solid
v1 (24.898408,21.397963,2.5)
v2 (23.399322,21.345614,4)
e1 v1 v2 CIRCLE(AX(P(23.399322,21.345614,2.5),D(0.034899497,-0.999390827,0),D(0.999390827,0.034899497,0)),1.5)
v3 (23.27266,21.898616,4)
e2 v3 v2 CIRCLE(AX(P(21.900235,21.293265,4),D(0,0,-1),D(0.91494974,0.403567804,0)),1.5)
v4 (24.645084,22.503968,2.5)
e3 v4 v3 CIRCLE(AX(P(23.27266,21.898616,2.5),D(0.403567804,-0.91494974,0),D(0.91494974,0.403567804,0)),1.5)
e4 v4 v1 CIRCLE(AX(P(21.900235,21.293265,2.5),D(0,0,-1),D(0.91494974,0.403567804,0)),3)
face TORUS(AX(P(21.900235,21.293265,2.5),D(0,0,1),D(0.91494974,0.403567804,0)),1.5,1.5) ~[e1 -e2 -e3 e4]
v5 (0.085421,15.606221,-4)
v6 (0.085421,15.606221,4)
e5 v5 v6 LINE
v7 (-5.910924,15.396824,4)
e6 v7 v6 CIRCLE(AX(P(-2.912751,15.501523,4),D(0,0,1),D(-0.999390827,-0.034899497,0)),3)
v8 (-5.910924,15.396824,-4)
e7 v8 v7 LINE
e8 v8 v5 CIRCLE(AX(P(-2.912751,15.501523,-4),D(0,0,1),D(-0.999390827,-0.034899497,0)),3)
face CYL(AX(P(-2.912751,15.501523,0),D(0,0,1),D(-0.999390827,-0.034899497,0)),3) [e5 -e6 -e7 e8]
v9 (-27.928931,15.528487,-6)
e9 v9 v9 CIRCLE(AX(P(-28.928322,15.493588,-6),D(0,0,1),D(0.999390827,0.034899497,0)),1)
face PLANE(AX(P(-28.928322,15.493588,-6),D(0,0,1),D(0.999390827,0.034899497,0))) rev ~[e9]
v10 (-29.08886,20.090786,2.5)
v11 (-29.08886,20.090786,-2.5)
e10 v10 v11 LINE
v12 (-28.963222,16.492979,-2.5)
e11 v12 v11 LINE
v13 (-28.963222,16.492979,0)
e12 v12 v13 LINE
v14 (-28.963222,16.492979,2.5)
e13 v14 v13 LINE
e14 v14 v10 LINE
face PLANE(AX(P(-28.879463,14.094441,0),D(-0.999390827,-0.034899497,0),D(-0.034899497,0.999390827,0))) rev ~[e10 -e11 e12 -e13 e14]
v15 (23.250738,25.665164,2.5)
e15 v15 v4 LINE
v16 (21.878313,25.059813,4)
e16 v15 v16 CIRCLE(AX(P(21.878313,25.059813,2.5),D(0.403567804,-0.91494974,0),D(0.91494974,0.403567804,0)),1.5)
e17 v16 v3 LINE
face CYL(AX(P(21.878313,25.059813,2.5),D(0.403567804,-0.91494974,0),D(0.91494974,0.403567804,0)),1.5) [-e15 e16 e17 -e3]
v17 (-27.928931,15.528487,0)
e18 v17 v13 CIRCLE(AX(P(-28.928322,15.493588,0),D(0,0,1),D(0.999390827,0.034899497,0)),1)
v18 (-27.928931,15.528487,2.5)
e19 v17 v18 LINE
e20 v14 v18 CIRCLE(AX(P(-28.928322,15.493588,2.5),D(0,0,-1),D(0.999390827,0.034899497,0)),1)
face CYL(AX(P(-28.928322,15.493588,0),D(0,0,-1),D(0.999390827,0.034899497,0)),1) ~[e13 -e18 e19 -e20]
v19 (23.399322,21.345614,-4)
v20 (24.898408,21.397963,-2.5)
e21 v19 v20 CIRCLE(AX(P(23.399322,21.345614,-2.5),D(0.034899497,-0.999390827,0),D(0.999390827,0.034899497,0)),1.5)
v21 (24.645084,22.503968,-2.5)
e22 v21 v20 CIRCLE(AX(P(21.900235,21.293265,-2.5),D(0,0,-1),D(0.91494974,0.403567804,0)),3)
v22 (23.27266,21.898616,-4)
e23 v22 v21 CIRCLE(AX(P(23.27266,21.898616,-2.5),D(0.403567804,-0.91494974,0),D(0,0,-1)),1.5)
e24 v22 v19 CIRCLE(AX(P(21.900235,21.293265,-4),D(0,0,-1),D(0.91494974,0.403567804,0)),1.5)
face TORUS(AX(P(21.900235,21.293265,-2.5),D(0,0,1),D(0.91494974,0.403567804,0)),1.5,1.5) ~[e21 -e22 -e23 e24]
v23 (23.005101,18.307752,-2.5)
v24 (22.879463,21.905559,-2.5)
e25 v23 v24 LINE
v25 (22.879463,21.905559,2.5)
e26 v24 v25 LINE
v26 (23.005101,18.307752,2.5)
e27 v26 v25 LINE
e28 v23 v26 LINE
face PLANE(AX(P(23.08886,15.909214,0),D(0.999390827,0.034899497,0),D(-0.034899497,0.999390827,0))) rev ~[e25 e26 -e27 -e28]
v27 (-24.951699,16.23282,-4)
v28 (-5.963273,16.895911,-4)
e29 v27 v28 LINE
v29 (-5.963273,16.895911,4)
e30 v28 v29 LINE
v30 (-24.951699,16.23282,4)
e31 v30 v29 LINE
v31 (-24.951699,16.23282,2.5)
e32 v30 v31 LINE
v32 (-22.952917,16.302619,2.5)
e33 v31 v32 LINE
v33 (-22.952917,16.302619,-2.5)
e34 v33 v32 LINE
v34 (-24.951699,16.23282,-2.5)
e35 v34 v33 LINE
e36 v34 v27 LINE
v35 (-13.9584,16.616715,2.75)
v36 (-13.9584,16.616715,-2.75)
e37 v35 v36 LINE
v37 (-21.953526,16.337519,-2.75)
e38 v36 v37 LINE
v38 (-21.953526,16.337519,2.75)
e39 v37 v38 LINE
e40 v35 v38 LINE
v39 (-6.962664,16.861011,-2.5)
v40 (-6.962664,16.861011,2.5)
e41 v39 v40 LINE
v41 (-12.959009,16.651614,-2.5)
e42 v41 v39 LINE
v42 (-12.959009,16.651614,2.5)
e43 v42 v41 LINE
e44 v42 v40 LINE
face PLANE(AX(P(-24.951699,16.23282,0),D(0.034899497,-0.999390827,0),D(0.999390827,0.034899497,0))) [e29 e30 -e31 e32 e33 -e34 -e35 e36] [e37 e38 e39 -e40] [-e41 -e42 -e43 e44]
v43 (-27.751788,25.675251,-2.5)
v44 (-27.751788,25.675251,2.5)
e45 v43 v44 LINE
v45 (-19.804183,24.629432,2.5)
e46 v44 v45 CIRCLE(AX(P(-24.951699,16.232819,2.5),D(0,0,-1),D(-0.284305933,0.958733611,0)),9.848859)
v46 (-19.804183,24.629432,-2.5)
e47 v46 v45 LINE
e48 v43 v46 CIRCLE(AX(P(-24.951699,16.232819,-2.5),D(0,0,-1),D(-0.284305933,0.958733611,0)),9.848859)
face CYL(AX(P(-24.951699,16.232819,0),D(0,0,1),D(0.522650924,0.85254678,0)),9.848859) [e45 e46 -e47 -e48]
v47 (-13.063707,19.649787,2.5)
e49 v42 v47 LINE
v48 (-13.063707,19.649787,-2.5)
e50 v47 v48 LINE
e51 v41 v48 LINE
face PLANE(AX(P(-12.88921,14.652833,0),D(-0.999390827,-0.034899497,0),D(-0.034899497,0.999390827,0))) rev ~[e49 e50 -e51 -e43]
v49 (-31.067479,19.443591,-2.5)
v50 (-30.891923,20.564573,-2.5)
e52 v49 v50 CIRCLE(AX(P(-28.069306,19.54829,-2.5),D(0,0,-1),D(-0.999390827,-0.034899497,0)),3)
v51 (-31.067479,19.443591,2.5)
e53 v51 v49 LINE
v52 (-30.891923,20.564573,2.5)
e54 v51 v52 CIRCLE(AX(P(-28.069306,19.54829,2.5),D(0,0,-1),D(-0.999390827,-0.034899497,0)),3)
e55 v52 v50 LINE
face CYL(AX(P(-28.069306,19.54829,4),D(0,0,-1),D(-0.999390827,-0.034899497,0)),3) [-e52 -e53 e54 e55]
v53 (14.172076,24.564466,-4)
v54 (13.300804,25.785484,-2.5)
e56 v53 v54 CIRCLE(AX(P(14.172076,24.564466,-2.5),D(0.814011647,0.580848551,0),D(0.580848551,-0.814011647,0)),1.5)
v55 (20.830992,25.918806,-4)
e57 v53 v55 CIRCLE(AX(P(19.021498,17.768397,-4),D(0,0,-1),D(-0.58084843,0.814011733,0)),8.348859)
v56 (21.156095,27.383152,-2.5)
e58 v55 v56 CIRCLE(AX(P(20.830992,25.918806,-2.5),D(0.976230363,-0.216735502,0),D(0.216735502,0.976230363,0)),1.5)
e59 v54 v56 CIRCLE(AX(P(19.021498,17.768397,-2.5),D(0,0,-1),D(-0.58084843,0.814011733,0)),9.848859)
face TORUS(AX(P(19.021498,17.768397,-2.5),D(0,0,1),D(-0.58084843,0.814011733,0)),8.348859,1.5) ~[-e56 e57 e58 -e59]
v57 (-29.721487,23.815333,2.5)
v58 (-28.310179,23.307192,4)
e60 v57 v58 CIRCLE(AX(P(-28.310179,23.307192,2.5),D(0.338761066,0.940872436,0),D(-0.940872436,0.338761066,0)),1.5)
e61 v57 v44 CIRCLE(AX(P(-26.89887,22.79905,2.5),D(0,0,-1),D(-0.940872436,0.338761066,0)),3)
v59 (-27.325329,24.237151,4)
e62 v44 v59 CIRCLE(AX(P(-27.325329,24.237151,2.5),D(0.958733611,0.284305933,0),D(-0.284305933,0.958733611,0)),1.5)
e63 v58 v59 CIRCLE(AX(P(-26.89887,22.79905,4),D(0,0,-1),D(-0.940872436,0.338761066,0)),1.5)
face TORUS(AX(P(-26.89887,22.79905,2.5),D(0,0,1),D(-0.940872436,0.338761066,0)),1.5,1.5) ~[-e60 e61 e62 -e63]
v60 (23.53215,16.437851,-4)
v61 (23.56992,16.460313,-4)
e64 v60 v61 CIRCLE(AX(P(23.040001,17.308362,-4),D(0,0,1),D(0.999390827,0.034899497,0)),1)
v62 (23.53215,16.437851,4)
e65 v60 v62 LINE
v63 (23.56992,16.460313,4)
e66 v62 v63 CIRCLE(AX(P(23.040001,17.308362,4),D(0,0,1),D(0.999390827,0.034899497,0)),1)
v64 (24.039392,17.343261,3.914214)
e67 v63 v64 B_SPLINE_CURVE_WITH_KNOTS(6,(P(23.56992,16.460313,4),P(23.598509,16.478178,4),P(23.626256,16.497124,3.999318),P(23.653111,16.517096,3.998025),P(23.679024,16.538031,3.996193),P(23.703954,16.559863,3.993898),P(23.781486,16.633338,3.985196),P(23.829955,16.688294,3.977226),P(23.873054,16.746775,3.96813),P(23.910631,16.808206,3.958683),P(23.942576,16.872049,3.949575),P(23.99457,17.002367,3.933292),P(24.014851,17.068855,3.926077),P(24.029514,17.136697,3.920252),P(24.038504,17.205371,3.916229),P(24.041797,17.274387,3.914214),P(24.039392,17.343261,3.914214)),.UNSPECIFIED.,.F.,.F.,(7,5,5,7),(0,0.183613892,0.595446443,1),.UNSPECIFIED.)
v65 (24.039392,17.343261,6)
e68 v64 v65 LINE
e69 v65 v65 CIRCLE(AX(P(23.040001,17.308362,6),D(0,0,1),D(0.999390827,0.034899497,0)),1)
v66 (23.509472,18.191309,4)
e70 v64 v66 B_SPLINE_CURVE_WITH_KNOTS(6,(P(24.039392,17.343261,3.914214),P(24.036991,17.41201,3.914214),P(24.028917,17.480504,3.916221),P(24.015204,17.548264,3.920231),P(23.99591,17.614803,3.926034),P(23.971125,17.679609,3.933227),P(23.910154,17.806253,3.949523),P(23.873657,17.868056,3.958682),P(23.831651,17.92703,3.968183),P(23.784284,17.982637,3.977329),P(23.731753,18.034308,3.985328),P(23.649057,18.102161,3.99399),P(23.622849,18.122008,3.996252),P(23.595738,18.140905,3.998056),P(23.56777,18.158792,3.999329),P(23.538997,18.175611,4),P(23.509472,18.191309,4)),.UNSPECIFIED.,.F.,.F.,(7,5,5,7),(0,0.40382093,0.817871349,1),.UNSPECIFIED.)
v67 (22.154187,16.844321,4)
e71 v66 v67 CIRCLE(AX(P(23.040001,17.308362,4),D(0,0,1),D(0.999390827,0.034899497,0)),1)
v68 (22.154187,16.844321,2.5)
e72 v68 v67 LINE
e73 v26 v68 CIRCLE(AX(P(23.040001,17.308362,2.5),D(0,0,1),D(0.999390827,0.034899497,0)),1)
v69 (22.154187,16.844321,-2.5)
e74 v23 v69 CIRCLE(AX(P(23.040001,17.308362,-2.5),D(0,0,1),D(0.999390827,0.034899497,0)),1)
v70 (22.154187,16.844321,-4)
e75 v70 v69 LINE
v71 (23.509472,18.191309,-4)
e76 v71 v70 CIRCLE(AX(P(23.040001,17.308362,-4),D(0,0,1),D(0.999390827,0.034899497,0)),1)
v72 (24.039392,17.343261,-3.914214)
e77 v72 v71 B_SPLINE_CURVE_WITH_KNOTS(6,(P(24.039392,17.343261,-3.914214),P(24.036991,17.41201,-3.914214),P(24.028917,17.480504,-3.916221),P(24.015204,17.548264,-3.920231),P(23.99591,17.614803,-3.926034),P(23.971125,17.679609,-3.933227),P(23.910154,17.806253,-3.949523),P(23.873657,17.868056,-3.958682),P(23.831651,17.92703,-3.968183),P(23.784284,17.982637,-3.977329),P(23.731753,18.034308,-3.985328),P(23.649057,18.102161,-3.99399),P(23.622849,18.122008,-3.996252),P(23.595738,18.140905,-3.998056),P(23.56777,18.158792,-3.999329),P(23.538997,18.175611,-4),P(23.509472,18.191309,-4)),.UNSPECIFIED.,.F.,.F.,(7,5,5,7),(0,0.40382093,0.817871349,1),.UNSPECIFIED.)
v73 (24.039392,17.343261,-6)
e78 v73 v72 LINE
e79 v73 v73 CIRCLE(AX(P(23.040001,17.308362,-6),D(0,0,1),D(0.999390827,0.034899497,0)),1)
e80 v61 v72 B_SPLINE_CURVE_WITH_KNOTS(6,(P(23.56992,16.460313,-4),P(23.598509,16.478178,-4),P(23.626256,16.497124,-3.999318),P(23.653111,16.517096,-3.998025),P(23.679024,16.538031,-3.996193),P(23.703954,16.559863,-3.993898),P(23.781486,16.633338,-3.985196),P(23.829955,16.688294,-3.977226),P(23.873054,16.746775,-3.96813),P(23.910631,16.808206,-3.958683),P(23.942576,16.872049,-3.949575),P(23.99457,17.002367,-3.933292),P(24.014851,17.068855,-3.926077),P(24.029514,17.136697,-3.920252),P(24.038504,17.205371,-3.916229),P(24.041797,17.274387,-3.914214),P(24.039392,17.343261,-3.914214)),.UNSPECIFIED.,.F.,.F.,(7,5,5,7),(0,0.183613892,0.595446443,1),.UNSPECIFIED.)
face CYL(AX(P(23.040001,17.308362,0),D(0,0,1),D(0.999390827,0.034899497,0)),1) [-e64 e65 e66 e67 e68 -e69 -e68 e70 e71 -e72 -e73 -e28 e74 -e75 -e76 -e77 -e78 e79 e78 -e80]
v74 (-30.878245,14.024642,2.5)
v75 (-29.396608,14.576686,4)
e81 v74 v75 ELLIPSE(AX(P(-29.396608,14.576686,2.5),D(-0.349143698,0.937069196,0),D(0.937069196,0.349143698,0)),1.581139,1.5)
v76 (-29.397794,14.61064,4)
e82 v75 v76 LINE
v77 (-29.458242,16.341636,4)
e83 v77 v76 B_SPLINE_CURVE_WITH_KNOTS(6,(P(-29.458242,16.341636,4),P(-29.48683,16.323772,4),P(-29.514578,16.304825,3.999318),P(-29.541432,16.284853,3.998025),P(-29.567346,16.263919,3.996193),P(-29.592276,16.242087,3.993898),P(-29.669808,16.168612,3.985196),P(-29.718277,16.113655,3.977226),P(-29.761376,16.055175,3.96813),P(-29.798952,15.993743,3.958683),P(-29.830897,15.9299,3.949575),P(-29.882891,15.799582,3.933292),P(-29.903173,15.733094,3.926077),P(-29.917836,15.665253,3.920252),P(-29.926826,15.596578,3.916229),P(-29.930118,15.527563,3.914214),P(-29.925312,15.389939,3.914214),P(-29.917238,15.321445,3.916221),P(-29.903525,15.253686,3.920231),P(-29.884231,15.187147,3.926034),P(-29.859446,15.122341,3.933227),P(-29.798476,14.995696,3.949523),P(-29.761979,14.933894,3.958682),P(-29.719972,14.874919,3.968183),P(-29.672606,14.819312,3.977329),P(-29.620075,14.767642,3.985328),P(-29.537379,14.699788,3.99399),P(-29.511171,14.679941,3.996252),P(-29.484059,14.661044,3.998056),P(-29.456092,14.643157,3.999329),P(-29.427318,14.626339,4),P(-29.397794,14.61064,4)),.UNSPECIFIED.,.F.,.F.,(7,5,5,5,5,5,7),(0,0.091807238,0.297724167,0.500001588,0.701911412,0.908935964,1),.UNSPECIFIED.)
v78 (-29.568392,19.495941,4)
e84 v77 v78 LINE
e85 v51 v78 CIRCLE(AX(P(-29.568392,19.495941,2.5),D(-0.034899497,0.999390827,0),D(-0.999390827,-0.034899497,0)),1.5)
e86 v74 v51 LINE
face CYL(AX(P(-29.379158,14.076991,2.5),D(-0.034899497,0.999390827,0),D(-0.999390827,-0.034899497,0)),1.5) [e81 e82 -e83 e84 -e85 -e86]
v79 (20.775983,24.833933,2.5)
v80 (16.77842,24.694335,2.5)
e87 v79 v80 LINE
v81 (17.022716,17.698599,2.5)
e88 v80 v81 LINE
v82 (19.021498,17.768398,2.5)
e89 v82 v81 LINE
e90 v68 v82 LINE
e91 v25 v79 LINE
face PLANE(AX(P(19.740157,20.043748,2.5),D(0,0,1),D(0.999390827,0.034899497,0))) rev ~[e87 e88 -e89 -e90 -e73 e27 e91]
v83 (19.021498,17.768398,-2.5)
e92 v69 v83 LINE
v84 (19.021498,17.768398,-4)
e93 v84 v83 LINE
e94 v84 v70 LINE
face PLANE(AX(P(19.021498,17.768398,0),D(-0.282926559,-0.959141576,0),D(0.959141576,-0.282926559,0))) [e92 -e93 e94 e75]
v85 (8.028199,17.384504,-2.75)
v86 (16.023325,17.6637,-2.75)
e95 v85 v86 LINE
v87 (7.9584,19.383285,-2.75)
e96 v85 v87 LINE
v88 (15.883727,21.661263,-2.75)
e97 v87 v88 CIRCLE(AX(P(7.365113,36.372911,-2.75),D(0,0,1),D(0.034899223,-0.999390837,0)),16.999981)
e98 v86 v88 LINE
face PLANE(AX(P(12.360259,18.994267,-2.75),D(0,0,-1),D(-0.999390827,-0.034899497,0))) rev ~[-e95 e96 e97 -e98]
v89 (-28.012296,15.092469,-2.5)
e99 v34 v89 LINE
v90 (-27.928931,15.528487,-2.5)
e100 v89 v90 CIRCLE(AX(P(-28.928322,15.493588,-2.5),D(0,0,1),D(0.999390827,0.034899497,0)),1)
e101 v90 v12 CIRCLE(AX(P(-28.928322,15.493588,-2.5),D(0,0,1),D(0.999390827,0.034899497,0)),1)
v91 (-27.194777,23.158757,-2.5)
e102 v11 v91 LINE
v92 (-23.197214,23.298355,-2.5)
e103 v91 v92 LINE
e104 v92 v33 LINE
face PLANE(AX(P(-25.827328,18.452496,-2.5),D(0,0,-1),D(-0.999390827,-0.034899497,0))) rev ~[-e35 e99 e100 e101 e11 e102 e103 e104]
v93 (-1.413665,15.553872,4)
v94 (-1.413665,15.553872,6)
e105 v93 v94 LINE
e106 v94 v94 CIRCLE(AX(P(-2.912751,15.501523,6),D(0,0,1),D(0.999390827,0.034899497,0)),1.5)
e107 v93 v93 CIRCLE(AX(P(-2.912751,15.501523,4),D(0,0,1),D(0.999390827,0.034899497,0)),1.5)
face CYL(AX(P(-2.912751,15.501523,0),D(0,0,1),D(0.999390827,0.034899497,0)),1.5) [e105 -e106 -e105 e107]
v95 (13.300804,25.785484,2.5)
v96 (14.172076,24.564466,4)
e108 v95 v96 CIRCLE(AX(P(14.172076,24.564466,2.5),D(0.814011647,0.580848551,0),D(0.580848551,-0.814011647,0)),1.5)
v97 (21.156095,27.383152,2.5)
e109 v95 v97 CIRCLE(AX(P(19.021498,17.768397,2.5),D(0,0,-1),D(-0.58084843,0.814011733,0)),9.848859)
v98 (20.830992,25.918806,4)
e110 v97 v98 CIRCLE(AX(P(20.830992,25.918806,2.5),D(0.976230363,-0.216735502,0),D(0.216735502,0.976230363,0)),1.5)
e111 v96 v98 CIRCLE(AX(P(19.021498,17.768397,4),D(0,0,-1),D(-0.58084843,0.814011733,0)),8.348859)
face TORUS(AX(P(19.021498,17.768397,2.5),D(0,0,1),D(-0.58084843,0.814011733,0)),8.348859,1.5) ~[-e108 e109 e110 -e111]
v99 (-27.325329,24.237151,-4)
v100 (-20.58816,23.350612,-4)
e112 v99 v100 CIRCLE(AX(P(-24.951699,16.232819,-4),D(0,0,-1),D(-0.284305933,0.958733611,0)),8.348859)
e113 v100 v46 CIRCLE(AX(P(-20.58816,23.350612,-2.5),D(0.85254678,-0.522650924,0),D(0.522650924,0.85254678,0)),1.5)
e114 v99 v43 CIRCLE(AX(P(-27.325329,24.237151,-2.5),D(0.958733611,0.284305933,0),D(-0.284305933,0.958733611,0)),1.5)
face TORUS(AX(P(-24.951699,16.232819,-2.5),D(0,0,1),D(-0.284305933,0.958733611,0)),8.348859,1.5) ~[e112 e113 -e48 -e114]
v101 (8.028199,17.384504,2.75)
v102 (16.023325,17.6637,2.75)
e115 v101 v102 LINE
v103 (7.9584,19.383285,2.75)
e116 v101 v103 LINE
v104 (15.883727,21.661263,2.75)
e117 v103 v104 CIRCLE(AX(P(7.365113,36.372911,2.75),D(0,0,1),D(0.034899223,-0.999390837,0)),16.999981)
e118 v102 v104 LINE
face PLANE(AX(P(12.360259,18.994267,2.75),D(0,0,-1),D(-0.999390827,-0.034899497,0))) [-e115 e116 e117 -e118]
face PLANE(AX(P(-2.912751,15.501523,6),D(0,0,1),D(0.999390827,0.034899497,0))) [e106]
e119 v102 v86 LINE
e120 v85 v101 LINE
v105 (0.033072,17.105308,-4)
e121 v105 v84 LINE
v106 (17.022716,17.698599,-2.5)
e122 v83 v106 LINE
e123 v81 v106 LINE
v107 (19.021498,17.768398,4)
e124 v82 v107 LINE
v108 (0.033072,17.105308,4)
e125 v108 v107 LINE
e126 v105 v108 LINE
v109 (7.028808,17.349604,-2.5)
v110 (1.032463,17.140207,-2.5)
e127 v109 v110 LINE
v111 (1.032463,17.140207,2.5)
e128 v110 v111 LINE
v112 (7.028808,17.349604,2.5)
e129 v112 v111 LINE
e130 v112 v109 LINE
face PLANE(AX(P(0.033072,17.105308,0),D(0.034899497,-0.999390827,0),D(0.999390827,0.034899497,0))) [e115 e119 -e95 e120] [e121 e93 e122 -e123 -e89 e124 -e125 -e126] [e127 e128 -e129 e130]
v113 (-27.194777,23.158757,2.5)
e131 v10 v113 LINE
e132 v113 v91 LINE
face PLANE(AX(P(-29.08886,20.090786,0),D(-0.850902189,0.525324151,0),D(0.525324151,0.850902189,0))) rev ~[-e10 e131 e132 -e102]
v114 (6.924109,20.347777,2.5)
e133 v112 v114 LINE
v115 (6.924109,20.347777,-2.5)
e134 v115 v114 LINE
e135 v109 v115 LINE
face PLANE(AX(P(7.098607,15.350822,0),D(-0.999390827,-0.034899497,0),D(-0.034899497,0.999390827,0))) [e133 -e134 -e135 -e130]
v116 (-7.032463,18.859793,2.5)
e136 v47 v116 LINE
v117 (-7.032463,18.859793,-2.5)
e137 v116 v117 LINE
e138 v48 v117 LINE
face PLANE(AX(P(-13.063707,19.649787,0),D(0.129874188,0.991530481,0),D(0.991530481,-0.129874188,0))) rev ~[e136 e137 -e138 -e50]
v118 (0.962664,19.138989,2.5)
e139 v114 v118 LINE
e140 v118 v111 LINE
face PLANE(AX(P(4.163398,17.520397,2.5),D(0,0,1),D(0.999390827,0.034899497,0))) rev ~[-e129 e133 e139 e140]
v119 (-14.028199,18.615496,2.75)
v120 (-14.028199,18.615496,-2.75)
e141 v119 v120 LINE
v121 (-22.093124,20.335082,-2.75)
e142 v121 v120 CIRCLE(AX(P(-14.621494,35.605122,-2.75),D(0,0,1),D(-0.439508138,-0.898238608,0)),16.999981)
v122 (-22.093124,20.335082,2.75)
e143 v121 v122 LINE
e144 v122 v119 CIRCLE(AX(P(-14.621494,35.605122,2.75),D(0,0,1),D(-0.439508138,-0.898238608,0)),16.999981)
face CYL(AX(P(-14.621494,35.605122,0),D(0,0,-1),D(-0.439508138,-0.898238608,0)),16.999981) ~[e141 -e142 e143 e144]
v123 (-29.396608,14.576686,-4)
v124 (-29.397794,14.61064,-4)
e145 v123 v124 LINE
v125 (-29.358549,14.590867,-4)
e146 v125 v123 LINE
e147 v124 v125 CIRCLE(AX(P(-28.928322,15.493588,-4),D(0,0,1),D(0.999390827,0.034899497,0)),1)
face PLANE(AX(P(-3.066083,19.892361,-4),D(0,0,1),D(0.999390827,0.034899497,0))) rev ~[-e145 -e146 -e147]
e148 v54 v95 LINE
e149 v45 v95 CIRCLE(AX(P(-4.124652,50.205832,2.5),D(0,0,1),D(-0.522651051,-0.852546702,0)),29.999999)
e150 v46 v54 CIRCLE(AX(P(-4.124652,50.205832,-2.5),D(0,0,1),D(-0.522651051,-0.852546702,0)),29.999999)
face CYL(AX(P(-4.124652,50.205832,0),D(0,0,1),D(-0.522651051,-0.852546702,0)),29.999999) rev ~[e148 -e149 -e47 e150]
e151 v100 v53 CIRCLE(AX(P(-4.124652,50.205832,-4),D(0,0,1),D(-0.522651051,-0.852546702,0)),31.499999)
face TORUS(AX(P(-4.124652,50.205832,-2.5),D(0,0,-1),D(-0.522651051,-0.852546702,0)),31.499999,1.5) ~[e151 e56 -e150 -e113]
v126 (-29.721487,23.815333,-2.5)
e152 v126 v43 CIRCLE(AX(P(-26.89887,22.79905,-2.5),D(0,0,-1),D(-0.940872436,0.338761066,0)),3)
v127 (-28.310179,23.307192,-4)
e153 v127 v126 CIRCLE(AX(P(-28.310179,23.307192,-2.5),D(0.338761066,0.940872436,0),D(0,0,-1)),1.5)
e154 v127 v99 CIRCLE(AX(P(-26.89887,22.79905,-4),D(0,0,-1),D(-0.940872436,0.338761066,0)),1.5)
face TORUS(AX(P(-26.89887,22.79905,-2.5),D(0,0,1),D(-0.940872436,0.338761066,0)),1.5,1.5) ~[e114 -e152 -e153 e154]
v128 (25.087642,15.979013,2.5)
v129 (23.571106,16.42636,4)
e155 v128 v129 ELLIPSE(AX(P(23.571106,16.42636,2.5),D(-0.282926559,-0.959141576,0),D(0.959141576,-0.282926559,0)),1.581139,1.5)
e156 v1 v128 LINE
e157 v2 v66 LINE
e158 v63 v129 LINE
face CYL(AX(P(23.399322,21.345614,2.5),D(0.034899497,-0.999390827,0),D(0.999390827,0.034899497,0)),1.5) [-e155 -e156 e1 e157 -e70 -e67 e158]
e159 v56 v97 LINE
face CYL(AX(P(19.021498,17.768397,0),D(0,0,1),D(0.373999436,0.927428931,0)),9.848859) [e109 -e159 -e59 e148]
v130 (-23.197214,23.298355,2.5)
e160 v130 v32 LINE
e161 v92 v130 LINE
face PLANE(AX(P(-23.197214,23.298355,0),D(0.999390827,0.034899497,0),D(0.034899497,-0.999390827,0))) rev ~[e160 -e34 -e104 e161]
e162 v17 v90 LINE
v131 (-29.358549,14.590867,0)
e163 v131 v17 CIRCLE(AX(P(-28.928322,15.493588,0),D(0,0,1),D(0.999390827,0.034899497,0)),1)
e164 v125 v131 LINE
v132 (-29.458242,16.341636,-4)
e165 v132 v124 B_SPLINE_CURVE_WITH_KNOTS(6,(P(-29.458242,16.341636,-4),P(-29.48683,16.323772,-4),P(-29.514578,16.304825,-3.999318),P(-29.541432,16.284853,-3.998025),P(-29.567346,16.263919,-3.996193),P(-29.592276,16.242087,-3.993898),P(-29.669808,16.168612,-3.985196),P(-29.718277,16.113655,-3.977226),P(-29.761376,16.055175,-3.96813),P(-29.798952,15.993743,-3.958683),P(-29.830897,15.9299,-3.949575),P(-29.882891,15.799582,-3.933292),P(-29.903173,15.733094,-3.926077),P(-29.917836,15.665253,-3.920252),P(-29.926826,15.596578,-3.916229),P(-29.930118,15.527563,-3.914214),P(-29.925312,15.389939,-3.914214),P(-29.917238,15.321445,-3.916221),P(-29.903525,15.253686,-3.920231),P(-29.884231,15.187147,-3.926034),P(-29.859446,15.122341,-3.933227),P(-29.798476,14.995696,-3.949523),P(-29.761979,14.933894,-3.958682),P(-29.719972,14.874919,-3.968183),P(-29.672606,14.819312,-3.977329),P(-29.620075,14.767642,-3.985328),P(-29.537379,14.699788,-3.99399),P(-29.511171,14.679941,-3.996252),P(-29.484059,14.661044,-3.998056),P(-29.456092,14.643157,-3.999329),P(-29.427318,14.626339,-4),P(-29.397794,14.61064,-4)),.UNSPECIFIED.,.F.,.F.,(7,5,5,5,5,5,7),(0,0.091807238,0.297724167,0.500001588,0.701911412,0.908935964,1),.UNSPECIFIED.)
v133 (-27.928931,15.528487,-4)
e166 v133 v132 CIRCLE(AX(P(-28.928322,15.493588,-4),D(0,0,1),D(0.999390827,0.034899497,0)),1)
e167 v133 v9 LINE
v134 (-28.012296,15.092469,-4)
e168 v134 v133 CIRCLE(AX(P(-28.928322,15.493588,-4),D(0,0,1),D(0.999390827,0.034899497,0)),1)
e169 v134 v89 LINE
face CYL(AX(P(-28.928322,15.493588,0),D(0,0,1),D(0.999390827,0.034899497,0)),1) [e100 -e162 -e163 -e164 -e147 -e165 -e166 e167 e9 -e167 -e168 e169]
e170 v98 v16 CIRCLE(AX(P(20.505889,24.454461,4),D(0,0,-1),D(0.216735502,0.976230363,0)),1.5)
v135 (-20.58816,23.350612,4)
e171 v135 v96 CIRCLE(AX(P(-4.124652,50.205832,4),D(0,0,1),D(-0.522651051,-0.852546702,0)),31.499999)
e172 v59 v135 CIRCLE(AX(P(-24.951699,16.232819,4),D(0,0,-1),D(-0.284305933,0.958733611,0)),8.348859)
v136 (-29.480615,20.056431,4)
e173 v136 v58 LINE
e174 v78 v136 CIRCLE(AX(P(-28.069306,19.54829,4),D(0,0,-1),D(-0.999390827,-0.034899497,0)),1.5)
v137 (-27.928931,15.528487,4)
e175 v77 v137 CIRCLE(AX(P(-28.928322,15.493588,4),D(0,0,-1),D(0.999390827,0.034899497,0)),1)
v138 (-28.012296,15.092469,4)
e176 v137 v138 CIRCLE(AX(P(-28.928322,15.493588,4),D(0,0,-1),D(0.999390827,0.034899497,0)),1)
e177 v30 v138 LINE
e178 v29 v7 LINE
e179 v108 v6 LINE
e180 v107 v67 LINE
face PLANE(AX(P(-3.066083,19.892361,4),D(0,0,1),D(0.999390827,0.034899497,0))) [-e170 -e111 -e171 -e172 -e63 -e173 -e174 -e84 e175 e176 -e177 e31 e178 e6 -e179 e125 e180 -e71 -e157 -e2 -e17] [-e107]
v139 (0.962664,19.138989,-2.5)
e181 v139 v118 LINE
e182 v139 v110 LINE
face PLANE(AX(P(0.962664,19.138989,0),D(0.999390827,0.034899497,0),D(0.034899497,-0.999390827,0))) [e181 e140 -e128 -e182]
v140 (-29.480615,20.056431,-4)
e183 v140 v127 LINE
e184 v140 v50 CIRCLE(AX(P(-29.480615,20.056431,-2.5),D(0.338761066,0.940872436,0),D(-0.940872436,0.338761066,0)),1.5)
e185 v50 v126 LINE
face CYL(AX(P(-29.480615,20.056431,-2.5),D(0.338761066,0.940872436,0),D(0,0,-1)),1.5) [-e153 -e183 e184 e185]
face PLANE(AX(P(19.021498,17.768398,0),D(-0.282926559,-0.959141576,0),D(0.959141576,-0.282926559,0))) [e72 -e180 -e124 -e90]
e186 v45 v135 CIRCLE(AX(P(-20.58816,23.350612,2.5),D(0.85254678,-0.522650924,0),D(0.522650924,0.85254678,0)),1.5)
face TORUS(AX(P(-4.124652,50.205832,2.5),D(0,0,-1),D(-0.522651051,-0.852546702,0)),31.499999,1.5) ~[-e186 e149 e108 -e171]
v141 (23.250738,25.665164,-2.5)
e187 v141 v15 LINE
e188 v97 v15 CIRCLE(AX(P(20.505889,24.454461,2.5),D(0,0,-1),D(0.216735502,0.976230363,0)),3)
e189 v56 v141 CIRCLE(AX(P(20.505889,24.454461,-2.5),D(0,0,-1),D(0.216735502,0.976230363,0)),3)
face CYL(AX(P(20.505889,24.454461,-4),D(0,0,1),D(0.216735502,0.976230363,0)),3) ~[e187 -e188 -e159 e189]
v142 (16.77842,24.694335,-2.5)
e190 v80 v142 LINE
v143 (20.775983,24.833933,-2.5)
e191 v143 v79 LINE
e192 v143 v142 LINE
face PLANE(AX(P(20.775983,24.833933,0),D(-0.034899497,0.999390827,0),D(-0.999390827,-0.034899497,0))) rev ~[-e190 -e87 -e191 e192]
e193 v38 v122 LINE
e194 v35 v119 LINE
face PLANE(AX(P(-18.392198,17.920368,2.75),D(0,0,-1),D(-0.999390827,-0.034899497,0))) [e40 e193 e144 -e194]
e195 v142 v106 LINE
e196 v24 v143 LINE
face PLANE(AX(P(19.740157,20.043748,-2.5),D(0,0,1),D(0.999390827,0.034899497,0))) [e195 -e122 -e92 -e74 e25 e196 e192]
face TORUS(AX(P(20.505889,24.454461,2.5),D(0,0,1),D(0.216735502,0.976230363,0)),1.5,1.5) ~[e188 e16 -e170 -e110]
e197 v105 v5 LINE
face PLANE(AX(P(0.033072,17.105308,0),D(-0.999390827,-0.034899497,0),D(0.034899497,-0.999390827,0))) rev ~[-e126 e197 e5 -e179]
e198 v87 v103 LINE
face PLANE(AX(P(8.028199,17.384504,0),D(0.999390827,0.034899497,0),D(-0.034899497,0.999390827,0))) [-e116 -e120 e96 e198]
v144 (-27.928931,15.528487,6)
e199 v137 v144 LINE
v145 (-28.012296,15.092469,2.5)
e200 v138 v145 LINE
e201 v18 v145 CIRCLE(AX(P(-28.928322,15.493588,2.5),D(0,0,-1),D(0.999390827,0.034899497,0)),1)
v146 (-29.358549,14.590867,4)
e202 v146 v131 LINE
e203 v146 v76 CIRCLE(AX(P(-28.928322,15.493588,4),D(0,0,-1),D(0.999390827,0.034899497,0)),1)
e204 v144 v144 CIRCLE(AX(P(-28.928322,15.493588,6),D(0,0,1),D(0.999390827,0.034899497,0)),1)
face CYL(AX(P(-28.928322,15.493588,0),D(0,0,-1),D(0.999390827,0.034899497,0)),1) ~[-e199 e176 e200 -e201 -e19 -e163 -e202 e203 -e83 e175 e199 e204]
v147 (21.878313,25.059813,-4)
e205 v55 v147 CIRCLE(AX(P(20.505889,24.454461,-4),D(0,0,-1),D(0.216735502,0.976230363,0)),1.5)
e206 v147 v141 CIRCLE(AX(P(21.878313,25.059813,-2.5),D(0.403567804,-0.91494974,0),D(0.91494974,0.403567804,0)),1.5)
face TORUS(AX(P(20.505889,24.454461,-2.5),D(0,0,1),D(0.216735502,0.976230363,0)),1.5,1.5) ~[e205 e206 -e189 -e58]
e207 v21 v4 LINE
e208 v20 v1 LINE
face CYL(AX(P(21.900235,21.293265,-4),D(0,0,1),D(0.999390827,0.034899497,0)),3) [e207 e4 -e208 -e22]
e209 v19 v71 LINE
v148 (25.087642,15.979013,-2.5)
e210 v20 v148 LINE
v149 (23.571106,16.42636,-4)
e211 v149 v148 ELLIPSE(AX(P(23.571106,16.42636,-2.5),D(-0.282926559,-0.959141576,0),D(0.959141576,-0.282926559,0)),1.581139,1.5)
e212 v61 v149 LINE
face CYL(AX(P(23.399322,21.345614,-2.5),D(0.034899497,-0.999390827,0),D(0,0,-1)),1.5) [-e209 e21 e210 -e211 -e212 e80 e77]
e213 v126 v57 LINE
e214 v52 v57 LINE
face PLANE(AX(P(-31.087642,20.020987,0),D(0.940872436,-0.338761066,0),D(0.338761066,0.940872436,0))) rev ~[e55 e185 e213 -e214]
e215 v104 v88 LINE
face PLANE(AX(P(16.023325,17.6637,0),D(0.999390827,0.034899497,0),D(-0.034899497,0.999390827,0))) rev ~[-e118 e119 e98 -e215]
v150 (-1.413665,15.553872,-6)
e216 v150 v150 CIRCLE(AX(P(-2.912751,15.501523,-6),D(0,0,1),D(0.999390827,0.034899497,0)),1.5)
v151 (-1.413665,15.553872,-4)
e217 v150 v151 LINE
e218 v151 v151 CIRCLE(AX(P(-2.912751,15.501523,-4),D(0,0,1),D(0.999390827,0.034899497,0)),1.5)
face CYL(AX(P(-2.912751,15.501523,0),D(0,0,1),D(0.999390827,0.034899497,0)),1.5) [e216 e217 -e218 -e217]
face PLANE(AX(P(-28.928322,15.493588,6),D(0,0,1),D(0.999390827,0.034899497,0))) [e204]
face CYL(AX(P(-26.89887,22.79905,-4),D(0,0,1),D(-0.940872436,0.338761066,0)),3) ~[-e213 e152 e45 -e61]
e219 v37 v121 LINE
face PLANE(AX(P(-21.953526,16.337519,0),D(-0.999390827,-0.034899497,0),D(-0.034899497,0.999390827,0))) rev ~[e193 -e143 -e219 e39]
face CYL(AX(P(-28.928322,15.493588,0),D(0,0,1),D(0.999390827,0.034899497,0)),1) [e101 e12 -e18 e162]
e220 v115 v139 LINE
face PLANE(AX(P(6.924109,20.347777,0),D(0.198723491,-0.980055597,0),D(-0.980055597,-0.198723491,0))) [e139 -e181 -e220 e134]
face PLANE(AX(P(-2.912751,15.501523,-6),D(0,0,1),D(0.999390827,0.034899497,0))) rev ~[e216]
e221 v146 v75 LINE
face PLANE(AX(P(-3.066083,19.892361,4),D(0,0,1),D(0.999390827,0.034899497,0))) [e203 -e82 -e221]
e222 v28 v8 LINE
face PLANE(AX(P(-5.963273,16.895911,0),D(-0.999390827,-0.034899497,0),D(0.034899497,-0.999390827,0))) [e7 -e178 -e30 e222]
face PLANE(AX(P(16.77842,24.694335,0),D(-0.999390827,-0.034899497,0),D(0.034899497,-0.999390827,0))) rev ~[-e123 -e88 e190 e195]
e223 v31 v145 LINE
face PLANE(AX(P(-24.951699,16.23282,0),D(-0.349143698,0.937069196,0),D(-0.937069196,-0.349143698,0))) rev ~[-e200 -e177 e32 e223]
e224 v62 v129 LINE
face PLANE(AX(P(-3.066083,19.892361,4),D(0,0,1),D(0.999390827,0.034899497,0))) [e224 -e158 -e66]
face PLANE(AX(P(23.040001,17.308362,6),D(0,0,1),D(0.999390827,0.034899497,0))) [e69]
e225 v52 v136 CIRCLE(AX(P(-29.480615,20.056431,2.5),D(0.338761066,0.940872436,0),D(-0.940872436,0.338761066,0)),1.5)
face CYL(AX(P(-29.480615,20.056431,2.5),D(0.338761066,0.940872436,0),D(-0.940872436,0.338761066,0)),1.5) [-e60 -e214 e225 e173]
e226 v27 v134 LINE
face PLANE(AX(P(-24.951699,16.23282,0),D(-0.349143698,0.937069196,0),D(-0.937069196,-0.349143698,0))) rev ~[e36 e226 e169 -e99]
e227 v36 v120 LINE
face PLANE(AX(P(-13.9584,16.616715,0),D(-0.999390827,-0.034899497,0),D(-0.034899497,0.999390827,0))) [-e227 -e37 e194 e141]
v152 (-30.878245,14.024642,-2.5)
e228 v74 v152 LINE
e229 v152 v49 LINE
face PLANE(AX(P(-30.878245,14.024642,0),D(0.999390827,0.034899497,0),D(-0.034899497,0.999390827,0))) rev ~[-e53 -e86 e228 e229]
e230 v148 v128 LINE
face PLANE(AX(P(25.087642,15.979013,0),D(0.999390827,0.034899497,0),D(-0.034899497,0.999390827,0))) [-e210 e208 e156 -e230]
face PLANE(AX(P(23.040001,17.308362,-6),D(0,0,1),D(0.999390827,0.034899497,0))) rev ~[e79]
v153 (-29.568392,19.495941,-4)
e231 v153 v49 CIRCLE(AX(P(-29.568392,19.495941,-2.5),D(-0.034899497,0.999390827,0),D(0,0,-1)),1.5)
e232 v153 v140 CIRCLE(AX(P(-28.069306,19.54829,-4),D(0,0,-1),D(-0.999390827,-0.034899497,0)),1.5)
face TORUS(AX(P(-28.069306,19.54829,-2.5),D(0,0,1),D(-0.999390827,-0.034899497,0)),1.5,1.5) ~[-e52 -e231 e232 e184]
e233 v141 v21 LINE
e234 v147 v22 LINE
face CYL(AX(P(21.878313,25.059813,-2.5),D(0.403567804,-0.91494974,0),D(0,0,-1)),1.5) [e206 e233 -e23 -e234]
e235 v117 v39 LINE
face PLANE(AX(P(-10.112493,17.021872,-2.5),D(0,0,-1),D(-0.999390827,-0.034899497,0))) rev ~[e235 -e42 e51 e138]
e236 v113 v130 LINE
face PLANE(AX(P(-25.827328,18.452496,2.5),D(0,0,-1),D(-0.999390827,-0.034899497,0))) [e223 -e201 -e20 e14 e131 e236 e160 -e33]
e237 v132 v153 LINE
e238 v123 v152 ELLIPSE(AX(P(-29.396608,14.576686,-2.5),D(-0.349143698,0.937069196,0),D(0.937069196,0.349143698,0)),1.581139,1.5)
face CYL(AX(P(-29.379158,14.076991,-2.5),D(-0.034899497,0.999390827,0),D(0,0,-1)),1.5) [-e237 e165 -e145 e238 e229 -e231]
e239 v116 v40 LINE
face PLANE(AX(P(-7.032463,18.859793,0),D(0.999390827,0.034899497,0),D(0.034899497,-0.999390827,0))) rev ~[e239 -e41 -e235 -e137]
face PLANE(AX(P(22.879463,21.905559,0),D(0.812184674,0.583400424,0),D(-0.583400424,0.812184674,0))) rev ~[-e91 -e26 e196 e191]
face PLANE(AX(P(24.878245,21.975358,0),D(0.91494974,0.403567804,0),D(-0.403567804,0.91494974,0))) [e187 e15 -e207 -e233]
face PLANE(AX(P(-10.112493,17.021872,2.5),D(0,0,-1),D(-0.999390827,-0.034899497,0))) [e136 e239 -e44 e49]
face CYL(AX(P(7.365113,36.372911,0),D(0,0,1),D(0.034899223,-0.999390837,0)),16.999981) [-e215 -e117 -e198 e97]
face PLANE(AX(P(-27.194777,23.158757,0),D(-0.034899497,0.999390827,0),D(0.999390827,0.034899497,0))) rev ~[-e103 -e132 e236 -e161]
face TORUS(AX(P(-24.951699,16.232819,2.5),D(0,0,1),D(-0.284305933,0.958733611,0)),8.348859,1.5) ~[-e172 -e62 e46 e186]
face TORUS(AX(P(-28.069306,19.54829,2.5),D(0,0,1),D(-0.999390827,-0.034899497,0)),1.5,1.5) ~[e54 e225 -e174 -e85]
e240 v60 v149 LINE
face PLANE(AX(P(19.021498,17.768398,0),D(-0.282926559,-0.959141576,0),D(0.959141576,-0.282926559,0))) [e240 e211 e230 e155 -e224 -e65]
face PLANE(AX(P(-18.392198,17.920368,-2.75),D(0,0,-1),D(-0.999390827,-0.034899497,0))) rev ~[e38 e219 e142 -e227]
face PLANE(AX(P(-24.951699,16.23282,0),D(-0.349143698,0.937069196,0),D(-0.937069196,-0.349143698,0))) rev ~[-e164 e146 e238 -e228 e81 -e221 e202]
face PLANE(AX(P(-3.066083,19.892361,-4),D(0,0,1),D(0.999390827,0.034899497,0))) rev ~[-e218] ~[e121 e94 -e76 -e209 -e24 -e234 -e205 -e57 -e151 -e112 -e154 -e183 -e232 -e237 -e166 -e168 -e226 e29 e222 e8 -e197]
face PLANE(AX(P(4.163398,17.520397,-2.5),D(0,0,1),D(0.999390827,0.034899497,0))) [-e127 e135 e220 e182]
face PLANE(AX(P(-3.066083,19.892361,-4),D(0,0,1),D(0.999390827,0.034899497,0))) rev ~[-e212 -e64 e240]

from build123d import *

# Parameters (mm, degrees)
PAD103_DEPTH            = 4
POCKET044_DEPTH         = 2.75
POCKET045_DEPTH         = 2.5
SKETCH192_R             = 1.5
PAD104_DEPTH            = 6
FILLET006_R             = 3
FILLET007_R             = 1.5
SKETCH221_R             = 1
PAD116_DEPTH            = 6
BODY154_ROLL_ANGLE      = -90
BODY154_PLACEMENT_ANGLE = 2


with BuildPart() as part:
    # Sketch188 → Pad103 (new body, symmetric)
    with BuildSketch(Plane.XZ):
        with BuildLine():
            Line((-22, 0), (-3, 0))
            Line((-3, 0), (-3, -1.5))
            ThreePointArc((-3, -1.5), (0, -4.5), (3, -1.5))
            Line((3, 0), (3, -1.5))
            Line((3, 0), (22, 0))
            Line((22, 0), (28, -2))
            Line((28, -2), (28, 4))
            Line((28, 4), (26, 9))
            ThreePointArc((26, 9), (21.180343, 9.814691), (16.562583, 8.211851))
            ThreePointArc((-16.562583, 8.211851), (0, 3.225464), (16.562583, 8.211851))
            ThreePointArc((-16.562583, 8.211851), (-21.180343, 9.814691), (-26, 9))
            Line((-28, 4), (-26, 9))
            Line((-28, -2), (-28, 4))
            Line((-22, 0), (-28, -2))
        make_face()
    extrude(amount=PAD103_DEPTH, both=True)

    # Sketch190 → Pocket044 (cut, symmetric)
    with BuildSketch(Plane.XZ):
        with BuildLine():
            ThreePointArc((-19, 4), (-15.123106, 2.507577), (-11, 2))
            Line((-11, 0), (-11, 2))
            Line((-11, 0), (-19, 0))
            Line((-19, 0), (-19, 4))
        make_face()
        with BuildLine():
            ThreePointArc((11, 2), (15.123106, 2.507577), (19, 4))
            Line((19, 0), (19, 4))
            Line((11, 0), (19, 0))
            Line((11, 0), (11, 2))
        make_face()
    extrude(amount=POCKET044_DEPTH, both=True, mode=Mode.SUBTRACT)

    # Sketch191 → Pocket045 (cut, symmetric)
    with BuildSketch(Plane.XZ):
        Polygon((-26, -2), (-26, 4), (-24, 7), (-20, 7), (-20, -2), align=None)
        Polygon((-10, -2), (-10, 3), (-4, 2), (-4, -2), align=None)
        Polygon((10, -2), (10, 3), (4, 2), (4, -2), align=None)
        Polygon((26, -2), (26, 4), (24, 7), (20, 7), (20, -2), align=None)
    extrude(amount=POCKET045_DEPTH, both=True, mode=Mode.SUBTRACT)

    # Sketch192 → Pad104 (join, symmetric)
    with BuildSketch(Plane.XZ):
        with Locations((0, -1.5)):
            Circle(SKETCH192_R)
    extrude(amount=PAD104_DEPTH, both=True)

    # Fillet006
    fillet006_edges = [part.edges().sort_by_distance(p)[0] for p in [
        (-28, 0, 4),
        (-26, 0, 9),
        (26, 0, 9),
        (28, 0, 4),
    ]]
    fillet(fillet006_edges, radius=FILLET006_R)

    # Fillet007
    fillet007_edges = [part.edges().sort_by_distance(p)[0] for p in [
        (-28, 4, 0.711126),
        (-27.143844, 4, 6.140391),
        (-25.699112, 4, 8.881973),
        (-20.375073, 4, 9.713888),
        (0, 4, 3.225464),
        (20.375073, 4, 9.713888),
        (25.699112, 4, 8.881973),
        (27.143844, 4, 6.140391),
        (28, 4, 0.711126),
        (-27.945869, 4, 3.989575),
        (27.945869, 4, 3.989575),
        (-28, -4, 0.711126),
        (-27.945869, -4, 3.989575),
        (-27.143844, -4, 6.140391),
        (-25.699112, -4, 8.881973),
        (-20.375073, -4, 9.713888),
        (0, -4, 3.225464),
        (20.375073, -4, 9.713888),
        (25.699112, -4, 8.881973),
        (27.143844, -4, 6.140391),
        (27.945869, -4, 3.989575),
        (28, -4, 0.711126),
    ]]
    fillet(fillet007_edges, radius=FILLET007_R)

    # Sketch221 → Pad116 (join, symmetric)
    with BuildSketch(Plane.XZ):
        with Locations((-26, -0.6)):
            Circle(SKETCH221_R)
        with Locations((26, -0.6)):
            Circle(SKETCH221_R)
    extrude(amount=PAD116_DEPTH, both=True)


with BuildPart() as part_1:
    # Body147 placement: moved
    add(part.part.moved(Location((0, 0, -1))))


with BuildPart() as part_2:
    # Body154 roll: moved
    add(part_1.part.rotate(Axis((0, 0, 0), (1, 0, 0)), BODY154_ROLL_ANGLE))


with BuildPart() as part_3:
    # Body154 placement: moved
    add(part_2.part.moved(Location((-3, 18, 0))).rotate(Axis((-3, 18, 0), (0, 0, 1)), BODY154_PLACEMENT_ANGLE))


solid = part_3.part
